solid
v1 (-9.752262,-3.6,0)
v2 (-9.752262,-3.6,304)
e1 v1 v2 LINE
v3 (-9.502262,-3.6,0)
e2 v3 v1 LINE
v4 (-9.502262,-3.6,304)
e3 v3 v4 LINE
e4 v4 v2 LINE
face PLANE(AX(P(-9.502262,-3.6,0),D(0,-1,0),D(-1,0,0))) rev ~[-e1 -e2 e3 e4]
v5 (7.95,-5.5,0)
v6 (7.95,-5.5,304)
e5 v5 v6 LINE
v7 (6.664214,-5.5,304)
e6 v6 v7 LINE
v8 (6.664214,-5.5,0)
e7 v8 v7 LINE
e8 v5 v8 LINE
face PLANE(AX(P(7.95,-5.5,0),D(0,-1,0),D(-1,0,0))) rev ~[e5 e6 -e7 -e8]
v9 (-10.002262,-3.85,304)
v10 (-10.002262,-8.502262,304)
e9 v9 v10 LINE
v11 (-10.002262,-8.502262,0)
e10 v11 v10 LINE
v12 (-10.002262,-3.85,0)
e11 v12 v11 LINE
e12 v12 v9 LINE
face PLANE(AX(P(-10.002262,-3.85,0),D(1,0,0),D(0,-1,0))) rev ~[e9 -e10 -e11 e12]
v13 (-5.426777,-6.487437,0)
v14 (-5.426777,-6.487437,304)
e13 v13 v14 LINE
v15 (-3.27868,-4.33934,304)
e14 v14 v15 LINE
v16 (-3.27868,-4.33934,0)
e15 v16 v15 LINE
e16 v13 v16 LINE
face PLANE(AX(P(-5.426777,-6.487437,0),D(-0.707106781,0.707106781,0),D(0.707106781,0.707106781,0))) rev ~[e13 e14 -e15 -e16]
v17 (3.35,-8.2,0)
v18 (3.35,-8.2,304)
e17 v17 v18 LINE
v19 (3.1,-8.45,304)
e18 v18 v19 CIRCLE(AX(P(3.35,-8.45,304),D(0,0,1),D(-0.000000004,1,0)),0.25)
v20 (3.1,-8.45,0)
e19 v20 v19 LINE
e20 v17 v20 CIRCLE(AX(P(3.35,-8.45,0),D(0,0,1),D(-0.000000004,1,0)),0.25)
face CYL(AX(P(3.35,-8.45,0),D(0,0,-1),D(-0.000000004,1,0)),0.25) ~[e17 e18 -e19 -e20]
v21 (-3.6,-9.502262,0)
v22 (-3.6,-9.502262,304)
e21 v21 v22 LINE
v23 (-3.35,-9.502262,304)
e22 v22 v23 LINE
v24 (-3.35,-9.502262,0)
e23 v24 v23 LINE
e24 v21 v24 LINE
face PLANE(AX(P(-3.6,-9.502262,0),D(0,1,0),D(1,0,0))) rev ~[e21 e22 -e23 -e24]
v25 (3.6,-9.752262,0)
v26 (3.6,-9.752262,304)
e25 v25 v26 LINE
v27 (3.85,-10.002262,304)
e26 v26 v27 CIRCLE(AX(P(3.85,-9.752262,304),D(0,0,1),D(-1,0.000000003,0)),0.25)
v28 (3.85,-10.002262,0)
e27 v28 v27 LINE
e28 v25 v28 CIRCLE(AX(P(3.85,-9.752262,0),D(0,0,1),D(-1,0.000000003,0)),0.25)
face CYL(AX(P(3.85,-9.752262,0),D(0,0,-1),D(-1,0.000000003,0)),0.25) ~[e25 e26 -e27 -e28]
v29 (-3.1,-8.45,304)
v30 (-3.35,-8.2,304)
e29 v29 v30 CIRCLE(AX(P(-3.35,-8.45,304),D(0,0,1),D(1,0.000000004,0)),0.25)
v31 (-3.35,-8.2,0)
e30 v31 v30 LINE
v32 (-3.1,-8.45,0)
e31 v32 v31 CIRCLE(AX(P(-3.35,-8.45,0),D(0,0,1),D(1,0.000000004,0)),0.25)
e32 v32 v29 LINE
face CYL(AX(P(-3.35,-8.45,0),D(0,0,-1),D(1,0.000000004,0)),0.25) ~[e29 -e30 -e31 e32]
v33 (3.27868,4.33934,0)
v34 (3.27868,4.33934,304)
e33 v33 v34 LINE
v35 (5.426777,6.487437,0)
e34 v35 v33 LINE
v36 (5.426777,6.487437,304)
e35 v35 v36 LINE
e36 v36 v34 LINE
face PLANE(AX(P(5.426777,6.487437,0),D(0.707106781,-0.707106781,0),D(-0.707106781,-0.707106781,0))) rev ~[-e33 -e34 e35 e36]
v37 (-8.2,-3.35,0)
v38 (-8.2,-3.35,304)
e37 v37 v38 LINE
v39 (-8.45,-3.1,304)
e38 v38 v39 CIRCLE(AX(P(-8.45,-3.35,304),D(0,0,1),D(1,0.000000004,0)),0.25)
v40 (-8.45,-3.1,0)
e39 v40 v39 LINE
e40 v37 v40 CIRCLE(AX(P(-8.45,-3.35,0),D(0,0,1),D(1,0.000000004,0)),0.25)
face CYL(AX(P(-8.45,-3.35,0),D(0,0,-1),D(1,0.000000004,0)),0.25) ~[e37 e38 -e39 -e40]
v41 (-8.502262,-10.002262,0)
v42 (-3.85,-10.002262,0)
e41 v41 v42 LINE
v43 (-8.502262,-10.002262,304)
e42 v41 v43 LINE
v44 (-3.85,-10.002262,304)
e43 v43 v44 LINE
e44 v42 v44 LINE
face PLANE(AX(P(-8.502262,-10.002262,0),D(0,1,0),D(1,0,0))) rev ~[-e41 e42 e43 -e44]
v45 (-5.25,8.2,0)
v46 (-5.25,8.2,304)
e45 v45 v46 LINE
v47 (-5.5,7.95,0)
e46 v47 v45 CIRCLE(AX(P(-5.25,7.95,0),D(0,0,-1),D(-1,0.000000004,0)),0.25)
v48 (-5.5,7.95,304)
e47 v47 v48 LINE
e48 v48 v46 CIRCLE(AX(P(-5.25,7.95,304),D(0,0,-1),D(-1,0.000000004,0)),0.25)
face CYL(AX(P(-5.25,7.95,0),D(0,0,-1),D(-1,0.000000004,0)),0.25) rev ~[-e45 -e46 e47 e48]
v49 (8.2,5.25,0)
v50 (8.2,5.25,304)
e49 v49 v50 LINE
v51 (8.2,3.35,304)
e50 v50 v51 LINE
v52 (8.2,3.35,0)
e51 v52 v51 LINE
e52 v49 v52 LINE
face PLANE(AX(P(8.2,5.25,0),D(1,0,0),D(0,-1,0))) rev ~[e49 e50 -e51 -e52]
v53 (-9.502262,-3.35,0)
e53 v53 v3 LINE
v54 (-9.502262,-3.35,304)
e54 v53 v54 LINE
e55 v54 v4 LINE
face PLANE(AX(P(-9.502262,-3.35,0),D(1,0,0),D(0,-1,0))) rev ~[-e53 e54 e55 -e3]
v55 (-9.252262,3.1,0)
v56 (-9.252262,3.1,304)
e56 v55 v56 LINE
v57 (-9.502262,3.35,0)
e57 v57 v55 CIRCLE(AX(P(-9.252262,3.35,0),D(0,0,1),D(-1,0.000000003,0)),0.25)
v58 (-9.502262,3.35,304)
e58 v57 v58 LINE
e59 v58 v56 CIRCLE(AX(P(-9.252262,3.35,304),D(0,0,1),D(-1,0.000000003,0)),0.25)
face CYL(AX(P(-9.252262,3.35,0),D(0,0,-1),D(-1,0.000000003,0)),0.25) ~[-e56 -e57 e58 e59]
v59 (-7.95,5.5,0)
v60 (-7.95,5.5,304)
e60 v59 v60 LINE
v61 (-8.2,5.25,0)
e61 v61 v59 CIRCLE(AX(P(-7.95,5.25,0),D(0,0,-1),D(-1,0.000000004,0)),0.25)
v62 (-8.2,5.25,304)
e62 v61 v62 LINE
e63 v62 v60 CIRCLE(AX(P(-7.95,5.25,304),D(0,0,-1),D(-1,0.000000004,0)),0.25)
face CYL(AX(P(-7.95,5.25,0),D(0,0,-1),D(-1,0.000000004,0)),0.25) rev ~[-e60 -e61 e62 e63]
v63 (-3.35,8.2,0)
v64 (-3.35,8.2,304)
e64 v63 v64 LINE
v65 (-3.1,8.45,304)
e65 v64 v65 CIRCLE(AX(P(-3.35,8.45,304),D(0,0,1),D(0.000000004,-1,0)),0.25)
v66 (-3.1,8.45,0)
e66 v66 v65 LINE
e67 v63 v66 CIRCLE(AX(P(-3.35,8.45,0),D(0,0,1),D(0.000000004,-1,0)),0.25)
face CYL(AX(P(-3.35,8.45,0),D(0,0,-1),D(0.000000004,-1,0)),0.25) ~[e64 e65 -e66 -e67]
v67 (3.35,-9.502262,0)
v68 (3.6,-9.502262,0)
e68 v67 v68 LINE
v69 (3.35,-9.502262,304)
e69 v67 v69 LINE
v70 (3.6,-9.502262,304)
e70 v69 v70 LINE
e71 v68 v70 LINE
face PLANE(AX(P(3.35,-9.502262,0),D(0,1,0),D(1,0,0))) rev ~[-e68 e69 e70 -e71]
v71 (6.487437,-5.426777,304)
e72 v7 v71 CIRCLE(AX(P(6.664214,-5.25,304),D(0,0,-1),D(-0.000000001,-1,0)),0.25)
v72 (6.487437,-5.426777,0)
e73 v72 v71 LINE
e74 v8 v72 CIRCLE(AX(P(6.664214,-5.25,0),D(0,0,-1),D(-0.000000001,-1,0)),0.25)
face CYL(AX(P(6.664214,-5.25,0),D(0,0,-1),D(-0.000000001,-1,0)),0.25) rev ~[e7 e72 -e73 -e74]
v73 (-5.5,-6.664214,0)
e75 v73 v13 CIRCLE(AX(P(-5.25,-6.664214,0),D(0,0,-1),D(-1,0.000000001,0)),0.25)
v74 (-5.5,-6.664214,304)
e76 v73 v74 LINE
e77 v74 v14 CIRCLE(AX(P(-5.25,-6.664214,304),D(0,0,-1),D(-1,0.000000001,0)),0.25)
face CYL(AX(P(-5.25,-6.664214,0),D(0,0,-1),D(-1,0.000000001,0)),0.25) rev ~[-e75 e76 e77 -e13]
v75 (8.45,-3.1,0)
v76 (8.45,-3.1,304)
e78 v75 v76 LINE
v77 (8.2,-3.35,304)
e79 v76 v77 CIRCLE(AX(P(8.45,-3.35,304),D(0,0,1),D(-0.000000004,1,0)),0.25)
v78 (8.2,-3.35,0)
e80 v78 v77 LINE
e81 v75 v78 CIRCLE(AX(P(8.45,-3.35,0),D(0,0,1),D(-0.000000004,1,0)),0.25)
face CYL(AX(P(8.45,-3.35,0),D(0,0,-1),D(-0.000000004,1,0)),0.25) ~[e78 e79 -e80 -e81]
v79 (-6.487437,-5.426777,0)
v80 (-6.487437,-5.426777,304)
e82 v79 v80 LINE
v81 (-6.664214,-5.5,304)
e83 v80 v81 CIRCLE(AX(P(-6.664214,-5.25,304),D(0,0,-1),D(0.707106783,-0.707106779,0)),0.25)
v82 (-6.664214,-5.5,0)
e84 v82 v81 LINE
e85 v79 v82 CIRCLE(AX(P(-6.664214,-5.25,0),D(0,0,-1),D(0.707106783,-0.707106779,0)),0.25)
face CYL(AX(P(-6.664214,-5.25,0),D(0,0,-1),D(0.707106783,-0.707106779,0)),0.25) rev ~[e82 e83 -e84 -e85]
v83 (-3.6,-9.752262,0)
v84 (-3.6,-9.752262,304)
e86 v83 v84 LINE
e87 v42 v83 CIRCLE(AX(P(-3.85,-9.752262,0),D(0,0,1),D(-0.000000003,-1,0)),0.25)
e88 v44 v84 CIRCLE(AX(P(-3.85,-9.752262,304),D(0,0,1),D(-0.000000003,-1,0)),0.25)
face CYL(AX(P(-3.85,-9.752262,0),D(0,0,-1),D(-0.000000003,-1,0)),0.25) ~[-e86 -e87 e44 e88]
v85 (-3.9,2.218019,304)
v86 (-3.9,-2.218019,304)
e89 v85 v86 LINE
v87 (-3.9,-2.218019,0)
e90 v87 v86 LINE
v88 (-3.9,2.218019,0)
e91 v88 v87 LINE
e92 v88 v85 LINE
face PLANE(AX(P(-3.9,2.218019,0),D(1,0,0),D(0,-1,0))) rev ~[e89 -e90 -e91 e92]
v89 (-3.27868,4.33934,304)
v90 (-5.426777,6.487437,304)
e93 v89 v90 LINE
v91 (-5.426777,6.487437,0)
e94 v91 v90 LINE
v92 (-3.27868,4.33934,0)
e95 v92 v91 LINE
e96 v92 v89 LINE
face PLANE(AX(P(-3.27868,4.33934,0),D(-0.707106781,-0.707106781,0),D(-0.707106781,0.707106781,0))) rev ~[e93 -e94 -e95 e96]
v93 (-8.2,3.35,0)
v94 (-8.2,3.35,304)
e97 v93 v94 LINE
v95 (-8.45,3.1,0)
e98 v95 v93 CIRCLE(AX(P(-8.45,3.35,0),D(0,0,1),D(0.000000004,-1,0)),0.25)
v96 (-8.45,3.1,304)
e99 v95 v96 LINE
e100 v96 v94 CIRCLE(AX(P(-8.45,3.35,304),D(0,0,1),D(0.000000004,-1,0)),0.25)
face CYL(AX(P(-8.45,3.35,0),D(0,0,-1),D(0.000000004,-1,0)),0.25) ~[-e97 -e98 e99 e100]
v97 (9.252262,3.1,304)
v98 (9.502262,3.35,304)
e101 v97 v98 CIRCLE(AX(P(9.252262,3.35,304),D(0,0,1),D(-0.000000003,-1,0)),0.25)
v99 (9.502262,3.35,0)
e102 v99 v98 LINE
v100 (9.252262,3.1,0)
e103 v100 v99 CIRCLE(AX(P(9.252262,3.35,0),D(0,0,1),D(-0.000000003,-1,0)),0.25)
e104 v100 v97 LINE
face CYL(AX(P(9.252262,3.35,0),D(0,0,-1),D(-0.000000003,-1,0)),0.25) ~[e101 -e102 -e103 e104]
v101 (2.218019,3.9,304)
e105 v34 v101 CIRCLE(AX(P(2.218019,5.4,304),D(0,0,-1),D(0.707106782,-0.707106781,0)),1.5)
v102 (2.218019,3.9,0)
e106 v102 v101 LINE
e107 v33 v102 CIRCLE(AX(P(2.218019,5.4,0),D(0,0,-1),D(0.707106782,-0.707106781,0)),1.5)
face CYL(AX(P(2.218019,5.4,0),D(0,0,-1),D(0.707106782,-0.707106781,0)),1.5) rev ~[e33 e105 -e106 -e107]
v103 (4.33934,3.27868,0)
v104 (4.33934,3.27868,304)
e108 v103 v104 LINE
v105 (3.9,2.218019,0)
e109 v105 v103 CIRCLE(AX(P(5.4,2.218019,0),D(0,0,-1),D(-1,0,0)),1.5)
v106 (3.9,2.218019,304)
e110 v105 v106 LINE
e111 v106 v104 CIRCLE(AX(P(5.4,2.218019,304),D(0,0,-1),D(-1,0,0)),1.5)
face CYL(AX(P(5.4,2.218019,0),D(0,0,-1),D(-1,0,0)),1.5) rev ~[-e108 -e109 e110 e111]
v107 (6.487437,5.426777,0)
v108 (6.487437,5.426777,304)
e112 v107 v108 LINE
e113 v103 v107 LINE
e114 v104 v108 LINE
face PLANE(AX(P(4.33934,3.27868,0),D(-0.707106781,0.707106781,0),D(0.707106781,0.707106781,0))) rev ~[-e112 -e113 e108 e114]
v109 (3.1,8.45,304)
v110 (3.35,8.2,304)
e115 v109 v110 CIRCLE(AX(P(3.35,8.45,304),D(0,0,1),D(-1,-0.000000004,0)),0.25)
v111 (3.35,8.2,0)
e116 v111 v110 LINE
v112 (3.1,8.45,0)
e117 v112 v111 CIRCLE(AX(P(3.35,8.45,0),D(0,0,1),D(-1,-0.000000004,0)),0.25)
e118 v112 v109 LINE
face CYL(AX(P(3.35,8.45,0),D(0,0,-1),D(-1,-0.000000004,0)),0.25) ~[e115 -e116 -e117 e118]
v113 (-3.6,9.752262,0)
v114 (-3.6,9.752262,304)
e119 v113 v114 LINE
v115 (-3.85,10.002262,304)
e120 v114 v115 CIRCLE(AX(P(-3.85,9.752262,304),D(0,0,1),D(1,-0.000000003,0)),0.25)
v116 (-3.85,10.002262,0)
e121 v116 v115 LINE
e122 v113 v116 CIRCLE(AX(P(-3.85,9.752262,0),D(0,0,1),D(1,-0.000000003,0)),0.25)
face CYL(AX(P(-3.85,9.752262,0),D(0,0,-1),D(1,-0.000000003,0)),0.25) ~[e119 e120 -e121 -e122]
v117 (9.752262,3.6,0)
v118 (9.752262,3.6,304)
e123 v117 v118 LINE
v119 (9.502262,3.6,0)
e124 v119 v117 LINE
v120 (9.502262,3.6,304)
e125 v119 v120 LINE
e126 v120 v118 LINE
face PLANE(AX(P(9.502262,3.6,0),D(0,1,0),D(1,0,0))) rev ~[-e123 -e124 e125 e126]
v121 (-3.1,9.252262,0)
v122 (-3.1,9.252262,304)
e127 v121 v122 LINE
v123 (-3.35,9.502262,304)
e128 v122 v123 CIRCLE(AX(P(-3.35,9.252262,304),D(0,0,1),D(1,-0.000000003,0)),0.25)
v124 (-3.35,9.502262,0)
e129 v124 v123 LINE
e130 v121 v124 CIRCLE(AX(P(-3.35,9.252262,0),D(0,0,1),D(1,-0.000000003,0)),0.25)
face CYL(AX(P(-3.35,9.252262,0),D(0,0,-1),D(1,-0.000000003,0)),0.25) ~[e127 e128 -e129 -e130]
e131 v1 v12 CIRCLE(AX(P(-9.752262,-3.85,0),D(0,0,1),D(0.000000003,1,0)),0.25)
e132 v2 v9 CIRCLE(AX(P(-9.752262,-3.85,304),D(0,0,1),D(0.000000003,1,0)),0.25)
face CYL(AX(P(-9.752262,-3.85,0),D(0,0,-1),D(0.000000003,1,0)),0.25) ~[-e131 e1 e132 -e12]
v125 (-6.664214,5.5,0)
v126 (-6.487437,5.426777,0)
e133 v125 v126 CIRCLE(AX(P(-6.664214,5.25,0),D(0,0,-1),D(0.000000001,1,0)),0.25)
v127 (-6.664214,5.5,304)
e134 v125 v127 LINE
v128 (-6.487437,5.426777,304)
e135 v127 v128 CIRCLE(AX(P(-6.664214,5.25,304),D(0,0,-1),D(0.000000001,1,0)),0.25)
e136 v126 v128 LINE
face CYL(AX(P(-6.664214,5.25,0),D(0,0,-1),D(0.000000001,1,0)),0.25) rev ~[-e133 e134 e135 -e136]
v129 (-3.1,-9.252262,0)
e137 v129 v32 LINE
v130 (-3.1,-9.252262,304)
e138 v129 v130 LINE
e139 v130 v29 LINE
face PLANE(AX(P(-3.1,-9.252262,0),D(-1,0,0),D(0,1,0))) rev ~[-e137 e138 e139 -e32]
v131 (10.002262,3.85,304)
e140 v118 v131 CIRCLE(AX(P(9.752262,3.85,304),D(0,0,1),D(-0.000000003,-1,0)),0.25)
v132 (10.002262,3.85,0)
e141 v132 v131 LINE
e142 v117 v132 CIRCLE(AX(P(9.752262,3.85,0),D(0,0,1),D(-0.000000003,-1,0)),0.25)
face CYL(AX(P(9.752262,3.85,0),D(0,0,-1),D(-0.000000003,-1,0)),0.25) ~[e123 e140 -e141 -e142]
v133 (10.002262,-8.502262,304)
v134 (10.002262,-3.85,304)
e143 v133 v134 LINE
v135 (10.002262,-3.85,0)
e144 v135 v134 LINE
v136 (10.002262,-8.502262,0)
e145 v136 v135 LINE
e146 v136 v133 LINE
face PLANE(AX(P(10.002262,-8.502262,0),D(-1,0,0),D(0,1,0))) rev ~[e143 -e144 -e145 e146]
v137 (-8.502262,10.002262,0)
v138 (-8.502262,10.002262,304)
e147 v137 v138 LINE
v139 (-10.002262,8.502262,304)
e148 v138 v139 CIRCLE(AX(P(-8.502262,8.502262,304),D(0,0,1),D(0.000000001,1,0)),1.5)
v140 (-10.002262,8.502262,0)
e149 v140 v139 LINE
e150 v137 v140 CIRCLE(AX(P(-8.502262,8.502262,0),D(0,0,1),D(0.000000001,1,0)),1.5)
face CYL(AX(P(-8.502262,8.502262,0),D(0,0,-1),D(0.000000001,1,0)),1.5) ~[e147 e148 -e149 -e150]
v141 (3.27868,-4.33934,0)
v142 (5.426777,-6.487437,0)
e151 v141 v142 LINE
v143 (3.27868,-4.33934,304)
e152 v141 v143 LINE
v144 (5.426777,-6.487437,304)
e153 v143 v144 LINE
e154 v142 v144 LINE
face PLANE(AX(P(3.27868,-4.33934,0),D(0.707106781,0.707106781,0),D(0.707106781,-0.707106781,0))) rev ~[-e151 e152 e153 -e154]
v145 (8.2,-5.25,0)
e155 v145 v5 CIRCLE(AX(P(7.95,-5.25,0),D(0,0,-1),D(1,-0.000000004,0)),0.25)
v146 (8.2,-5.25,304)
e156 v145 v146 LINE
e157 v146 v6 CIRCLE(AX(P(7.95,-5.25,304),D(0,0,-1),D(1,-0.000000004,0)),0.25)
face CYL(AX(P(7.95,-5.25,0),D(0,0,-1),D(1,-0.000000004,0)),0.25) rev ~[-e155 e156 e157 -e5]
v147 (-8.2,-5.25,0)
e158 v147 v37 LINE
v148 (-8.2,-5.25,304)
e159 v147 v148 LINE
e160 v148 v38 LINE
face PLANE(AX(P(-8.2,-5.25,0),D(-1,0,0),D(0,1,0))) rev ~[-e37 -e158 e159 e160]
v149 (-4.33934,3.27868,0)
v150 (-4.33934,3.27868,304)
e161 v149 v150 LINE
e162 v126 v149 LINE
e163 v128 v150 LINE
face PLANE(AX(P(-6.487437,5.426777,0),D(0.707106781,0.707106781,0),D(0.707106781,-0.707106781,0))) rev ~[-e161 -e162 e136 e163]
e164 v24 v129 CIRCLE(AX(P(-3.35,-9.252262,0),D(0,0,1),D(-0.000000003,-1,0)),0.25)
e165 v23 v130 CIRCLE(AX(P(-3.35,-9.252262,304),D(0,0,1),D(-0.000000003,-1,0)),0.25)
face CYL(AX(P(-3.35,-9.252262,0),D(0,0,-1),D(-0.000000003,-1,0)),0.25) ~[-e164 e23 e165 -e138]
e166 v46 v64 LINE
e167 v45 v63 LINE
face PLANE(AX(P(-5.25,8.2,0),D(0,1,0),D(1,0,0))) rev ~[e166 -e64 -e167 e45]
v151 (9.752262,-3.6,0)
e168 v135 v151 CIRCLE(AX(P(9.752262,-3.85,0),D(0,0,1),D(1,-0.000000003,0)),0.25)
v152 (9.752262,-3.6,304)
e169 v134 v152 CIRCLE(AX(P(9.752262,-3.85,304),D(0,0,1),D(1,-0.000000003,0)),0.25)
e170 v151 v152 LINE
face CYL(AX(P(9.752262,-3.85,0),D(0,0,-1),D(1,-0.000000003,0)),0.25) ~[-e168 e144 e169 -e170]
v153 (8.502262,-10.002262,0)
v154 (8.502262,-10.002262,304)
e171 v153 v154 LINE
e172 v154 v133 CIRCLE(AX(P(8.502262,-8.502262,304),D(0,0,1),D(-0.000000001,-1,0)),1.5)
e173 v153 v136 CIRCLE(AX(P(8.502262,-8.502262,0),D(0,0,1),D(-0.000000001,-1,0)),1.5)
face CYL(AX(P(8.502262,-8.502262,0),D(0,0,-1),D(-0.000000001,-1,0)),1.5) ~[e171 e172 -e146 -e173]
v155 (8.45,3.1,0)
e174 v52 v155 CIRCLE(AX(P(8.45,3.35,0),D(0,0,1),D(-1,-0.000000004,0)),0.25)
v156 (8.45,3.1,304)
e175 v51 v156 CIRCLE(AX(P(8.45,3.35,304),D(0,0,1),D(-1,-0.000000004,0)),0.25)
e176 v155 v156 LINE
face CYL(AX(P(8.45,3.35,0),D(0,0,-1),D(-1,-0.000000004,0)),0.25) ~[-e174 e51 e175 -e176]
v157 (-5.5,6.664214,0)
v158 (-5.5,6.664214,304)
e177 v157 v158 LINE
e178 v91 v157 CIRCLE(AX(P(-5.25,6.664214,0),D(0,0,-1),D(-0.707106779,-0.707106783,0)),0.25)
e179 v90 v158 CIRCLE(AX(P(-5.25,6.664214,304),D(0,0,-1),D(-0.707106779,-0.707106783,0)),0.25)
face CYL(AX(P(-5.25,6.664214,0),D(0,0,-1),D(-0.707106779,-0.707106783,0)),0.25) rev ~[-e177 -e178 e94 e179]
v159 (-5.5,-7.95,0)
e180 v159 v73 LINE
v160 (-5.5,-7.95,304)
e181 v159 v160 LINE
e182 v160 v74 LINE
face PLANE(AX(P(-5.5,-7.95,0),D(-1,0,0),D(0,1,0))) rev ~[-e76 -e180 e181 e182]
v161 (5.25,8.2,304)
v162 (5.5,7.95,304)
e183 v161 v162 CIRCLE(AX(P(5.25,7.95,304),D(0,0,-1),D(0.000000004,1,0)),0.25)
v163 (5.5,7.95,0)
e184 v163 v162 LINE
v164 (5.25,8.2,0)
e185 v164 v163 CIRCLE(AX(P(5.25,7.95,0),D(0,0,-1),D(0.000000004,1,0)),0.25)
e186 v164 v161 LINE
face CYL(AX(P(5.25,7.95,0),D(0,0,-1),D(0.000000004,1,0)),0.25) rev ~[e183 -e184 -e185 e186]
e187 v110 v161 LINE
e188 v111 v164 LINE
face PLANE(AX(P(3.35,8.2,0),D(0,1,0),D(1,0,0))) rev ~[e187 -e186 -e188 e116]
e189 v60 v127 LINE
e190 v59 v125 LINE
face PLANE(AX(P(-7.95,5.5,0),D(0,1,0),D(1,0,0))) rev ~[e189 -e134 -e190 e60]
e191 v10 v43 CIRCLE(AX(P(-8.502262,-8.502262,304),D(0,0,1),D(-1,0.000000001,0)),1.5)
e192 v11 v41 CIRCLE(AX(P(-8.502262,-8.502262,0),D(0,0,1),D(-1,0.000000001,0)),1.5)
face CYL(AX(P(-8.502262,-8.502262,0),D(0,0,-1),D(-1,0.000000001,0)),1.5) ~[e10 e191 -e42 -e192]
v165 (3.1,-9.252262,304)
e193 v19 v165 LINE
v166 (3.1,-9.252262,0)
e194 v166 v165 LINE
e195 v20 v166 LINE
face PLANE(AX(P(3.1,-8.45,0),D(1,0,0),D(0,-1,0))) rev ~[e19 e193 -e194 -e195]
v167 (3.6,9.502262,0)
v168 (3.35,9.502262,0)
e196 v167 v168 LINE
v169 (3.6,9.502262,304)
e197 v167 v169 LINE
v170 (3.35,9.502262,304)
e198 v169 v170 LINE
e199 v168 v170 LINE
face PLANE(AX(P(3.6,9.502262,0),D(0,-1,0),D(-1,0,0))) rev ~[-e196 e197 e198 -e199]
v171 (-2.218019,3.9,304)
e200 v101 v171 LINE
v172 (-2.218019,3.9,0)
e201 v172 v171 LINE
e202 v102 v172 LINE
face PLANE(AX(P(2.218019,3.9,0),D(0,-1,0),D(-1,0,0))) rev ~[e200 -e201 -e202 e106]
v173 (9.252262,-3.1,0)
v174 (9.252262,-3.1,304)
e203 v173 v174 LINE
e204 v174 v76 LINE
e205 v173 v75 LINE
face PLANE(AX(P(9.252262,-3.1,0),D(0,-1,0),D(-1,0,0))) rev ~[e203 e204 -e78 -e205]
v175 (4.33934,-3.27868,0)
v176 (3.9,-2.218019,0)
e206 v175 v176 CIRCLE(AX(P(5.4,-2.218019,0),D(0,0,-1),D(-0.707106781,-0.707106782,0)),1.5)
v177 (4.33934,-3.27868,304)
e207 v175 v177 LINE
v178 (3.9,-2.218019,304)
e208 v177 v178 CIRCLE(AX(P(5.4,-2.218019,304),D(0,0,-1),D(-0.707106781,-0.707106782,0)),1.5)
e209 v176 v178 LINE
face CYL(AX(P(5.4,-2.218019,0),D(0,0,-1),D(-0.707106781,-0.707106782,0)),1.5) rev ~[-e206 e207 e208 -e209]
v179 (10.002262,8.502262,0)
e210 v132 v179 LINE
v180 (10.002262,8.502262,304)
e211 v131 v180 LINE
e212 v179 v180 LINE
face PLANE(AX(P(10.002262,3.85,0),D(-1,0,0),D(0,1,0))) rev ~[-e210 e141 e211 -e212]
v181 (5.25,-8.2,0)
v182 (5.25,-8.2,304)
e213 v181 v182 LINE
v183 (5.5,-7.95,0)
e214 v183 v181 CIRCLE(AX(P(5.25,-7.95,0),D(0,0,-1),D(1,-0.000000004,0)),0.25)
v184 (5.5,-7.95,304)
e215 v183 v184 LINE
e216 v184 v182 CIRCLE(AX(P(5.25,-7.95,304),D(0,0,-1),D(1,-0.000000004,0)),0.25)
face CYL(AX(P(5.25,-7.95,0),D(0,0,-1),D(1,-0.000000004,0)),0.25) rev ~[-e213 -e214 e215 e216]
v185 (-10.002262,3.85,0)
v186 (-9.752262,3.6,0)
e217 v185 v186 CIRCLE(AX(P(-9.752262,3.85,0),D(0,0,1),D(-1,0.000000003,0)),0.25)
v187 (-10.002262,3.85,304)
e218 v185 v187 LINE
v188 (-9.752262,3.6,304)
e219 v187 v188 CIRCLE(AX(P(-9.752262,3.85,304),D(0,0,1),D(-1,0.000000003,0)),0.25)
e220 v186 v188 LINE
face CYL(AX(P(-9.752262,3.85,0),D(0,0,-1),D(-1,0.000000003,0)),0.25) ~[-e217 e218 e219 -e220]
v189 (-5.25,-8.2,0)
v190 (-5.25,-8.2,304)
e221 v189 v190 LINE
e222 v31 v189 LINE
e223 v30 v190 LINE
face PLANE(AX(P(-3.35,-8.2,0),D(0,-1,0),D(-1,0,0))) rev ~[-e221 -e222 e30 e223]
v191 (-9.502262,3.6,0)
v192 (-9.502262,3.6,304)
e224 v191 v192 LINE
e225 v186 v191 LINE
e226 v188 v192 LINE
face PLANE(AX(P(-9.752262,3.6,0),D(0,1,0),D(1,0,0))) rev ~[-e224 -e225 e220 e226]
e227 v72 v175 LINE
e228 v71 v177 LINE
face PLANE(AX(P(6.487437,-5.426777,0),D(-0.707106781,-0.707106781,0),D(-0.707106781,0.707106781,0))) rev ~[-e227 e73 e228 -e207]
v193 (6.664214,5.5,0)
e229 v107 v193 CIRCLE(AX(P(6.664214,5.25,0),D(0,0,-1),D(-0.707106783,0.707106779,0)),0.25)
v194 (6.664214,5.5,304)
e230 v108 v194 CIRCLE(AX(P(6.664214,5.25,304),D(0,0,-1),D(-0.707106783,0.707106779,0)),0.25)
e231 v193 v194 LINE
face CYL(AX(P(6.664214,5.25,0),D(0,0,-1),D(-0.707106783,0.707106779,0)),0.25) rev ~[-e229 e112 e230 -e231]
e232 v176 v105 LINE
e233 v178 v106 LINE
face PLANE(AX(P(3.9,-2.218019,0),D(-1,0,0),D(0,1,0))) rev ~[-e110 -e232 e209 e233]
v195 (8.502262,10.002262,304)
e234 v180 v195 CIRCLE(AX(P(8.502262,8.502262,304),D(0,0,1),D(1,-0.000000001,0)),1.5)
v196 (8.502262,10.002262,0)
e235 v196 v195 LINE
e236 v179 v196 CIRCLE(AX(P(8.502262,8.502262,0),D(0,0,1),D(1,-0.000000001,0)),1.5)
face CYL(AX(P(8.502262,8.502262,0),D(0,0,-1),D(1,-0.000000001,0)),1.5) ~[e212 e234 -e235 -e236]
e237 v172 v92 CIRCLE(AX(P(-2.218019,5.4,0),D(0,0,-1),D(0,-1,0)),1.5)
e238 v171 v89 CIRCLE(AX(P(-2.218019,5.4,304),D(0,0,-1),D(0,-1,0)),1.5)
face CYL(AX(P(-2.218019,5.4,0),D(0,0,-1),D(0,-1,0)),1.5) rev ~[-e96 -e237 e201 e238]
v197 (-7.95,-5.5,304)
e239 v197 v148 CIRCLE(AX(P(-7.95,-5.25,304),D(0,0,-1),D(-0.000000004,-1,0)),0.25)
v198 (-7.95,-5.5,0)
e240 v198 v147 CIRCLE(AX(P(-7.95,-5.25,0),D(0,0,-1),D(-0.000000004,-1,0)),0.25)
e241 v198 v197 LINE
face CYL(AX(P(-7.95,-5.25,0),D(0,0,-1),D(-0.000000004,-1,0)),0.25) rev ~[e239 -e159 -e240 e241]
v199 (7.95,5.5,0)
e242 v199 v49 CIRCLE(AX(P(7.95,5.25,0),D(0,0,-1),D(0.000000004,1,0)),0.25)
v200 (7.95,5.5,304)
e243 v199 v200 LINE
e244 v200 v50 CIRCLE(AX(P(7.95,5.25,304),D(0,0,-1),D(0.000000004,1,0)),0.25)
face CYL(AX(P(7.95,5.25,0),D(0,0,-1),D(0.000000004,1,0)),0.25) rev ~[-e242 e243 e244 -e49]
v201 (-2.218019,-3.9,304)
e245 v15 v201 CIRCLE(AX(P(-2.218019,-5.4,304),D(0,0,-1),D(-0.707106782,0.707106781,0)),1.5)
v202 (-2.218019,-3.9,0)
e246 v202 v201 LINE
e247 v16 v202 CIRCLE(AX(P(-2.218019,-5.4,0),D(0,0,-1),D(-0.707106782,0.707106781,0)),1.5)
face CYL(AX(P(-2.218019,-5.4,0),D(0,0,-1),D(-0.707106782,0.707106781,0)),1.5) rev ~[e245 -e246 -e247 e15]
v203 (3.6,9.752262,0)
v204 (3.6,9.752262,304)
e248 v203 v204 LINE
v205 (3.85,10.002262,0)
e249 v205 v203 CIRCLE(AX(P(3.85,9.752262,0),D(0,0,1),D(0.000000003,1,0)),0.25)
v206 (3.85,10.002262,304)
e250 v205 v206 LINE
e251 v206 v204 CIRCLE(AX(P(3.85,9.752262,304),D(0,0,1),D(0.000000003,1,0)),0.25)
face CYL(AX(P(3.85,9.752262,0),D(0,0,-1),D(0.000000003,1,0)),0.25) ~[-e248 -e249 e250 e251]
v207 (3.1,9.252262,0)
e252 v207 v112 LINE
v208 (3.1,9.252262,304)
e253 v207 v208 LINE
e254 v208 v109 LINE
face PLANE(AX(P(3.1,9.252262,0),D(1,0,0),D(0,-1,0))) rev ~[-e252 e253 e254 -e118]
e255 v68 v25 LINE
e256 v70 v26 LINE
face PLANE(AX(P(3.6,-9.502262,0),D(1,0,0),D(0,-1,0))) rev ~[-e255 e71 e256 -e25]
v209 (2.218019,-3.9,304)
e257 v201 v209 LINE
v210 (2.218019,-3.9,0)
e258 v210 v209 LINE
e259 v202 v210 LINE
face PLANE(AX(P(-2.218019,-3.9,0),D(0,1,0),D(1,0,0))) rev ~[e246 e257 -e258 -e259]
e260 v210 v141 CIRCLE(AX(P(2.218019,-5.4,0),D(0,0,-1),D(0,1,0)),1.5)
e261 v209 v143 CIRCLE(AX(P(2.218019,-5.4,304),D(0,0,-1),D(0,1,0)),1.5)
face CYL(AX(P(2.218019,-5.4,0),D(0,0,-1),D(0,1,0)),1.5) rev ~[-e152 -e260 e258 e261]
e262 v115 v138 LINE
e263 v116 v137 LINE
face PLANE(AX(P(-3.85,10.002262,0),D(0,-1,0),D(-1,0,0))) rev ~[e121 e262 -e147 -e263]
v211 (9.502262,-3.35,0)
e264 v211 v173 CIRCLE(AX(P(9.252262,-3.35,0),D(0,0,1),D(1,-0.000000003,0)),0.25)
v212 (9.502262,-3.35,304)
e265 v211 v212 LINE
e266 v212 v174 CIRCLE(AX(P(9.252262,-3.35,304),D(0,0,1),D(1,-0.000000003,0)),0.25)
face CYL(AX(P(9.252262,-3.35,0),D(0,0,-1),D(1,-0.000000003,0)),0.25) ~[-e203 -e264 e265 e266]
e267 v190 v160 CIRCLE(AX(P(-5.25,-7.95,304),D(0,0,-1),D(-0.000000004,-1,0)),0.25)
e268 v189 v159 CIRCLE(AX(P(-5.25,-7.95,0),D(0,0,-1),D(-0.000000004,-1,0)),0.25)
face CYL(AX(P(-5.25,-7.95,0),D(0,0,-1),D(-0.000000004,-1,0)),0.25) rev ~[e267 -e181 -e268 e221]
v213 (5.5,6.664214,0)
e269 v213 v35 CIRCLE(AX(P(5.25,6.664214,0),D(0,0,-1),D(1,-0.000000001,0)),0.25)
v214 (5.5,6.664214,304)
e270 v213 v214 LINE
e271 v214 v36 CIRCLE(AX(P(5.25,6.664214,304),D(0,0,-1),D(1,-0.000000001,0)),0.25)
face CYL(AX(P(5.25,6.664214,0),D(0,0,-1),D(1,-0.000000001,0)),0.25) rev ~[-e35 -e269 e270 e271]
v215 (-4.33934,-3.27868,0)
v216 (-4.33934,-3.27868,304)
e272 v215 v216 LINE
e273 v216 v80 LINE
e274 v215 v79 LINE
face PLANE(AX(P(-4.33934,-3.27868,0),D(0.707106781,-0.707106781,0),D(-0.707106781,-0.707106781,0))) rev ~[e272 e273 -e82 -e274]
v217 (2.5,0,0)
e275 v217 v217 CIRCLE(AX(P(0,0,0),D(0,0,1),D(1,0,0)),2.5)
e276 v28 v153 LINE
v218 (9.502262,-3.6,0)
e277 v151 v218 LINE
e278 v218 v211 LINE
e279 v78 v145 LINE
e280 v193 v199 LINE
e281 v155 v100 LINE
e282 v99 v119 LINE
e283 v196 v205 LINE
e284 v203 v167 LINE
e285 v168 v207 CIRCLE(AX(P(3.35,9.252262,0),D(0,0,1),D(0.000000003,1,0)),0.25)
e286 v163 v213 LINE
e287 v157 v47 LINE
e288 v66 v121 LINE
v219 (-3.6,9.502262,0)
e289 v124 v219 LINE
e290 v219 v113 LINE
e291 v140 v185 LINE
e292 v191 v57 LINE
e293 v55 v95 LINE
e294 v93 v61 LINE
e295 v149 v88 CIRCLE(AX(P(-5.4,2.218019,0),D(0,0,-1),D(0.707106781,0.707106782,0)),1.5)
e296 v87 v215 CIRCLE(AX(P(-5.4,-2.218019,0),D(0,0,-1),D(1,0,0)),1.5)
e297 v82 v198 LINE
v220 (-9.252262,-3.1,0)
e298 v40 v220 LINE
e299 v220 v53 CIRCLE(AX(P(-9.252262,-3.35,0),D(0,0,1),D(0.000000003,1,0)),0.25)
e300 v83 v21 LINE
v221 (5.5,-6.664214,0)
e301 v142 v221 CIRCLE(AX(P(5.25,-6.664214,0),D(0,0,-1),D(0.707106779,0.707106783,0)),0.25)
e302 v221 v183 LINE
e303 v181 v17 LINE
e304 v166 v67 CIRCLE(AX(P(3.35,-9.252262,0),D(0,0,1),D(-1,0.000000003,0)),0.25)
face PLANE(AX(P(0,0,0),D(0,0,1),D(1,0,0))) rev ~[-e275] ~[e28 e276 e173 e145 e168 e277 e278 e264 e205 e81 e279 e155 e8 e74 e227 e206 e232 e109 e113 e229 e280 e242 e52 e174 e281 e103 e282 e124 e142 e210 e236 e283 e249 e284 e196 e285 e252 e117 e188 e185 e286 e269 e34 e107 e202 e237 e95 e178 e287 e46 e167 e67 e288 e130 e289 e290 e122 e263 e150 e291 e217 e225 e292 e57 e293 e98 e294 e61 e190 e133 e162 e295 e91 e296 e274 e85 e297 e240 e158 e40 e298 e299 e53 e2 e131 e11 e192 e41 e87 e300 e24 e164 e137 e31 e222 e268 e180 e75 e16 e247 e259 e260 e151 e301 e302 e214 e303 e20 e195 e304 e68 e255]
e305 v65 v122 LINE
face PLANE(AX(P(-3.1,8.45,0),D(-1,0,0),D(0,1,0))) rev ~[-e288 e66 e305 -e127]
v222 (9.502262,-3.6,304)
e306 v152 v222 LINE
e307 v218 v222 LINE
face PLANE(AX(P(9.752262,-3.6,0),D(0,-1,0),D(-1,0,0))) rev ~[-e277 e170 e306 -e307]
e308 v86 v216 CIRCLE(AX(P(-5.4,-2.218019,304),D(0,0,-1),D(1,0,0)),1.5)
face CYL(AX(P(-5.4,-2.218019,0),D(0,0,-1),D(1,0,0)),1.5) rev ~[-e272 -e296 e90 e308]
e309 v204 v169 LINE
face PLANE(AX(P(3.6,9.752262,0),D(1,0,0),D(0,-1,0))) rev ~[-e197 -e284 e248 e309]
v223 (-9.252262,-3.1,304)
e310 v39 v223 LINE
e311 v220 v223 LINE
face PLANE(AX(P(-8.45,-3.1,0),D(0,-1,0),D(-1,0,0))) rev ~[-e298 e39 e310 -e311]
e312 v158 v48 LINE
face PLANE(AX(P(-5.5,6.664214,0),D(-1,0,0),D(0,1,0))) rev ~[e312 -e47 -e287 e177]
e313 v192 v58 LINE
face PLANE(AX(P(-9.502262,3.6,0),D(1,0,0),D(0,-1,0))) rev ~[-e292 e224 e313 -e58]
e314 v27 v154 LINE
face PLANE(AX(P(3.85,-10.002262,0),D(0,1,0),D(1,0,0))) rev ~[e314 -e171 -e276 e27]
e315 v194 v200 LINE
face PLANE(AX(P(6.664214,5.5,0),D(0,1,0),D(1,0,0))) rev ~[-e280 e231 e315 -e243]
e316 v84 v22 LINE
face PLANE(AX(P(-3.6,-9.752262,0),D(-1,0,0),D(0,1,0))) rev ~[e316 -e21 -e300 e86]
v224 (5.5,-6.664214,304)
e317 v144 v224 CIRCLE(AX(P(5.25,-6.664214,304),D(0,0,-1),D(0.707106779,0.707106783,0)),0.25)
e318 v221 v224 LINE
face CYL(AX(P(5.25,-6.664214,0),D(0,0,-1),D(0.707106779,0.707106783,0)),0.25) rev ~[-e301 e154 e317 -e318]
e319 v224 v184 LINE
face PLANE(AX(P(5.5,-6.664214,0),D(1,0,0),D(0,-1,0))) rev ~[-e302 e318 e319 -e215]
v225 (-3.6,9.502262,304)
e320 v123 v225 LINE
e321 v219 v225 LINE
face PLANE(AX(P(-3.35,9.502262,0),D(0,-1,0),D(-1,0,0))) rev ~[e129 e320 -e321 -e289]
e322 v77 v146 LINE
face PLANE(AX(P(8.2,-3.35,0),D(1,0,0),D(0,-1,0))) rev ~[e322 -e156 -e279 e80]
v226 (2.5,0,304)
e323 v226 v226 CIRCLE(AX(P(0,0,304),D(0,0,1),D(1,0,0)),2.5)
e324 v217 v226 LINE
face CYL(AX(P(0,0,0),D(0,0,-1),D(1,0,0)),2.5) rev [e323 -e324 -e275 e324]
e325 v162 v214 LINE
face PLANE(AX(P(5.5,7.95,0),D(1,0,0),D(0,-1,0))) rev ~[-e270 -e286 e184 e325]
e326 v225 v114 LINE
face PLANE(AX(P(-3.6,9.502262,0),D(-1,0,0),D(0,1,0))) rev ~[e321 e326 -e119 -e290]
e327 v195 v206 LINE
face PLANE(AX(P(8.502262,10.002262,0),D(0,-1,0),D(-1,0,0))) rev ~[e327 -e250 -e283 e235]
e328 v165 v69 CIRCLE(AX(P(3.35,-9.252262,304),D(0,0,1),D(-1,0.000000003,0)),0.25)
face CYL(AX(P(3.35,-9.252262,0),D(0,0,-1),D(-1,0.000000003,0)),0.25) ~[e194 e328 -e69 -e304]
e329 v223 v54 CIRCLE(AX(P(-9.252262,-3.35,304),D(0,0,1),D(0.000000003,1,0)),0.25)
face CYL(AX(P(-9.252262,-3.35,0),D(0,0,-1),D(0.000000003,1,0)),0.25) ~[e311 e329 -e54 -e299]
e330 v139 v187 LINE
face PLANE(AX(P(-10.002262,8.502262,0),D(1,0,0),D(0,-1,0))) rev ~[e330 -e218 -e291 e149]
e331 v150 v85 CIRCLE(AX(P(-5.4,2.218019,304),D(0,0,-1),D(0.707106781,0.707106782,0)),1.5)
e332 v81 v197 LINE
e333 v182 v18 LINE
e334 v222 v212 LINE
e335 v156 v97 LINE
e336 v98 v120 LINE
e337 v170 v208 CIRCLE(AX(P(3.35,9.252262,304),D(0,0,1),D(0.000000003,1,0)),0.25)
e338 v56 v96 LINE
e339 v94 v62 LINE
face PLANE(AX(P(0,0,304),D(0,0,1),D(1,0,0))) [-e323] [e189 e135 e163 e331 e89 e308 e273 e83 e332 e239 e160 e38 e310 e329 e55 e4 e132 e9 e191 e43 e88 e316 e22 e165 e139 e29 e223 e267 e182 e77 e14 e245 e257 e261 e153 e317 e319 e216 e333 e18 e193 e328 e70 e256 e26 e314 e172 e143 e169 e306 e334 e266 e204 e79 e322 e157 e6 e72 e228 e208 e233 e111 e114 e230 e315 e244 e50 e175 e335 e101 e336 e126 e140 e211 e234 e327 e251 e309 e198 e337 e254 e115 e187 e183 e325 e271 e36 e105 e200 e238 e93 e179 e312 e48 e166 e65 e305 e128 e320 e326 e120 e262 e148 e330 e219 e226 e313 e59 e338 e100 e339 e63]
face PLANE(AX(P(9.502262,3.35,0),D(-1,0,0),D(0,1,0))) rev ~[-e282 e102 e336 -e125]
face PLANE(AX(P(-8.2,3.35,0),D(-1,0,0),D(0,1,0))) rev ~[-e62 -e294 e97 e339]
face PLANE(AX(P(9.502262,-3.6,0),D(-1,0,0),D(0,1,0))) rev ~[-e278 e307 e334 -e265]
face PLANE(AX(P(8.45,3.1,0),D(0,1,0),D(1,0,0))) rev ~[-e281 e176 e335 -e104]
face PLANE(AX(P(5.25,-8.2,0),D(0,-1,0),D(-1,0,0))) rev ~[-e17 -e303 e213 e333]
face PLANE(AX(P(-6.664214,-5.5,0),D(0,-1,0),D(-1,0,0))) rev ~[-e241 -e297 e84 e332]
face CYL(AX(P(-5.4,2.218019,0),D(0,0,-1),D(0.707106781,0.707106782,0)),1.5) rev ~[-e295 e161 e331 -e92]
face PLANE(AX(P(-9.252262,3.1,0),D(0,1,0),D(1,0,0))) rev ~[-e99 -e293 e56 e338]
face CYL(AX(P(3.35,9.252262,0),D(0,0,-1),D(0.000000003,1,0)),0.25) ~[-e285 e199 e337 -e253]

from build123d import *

# Parameters (mm, degrees)
SKETCH_1_R      = 2.5
EXTRUDE_1_DEPTH = 304


with BuildPart() as part:
    # 草图1 → 凸台-拉伸1 (new body)
    with BuildSketch(Plane.XY):
        with BuildLine():
            Line((-8.502261885, -10.002261885), (-3.85, -10.002261885))
            ThreePointArc((-3.85, -10.002261885), (-3.673223305, -9.929038581), (-3.6, -9.752261885))
            Line((-3.6, -9.752261885), (-3.6, -9.502261885))
            Line((-3.6, -9.502261885), (-3.35, -9.502261885))
            ThreePointArc((-3.35, -9.502261885), (-3.173223305, -9.429038581), (-3.1, -9.252261885))
            Line((-3.1, -9.252261885), (-3.1, -8.45))
            ThreePointArc((-3.1, -8.45), (-3.173223305, -8.273223305), (-3.35, -8.2))
            Line((-3.35, -8.2), (-5.25, -8.2))
            ThreePointArc((-5.25, -8.2), (-5.426776695, -8.126776695), (-5.5, -7.95))
            Line((-5.5, -7.95), (-5.5, -6.664213562))
            ThreePointArc((-5.5, -6.664213562), (-5.480969883, -6.568542704), (-5.426776695, -6.487436867))
            Line((-5.426776695, -6.487436867), (-3.278679656, -4.339339828))
            ThreePointArc((-3.278679656, -4.339339828), (-2.792044633, -4.014180701), (-2.218019485, -3.9))
            Line((-2.218019485, -3.9), (2.218019485, -3.9))
            ThreePointArc((2.218019485, -3.9), (2.792044633, -4.014180701), (3.278679656, -4.339339828))
            Line((3.278679656, -4.339339828), (5.426776695, -6.487436867))
            ThreePointArc((5.426776695, -6.487436867), (5.480969883, -6.568542704), (5.5, -6.664213562))
            Line((5.5, -6.664213562), (5.5, -7.95))
            ThreePointArc((5.5, -7.95), (5.426776695, -8.126776695), (5.25, -8.2))
            Line((5.25, -8.2), (3.35, -8.2))
            ThreePointArc((3.35, -8.2), (3.173223305, -8.273223305), (3.1, -8.45))
            Line((3.1, -8.45), (3.1, -9.252261885))
            ThreePointArc((3.1, -9.252261885), (3.173223305, -9.429038581), (3.35, -9.502261885))
            Line((3.35, -9.502261885), (3.6, -9.502261885))
            Line((3.6, -9.502261885), (3.6, -9.752261885))
            ThreePointArc((3.6, -9.752261885), (3.673223305, -9.929038581), (3.85, -10.002261885))
            Line((3.85, -10.002261885), (8.502261885, -10.002261885))
            ThreePointArc((8.502261885, -10.002261885), (9.562922057, -9.562922057), (10.002261885, -8.502261885))
            Line((10.002261885, -8.502261885), (10.002261885, -3.85))
            ThreePointArc((10.002261885, -3.85), (9.929038581, -3.673223305), (9.752261885, -3.6))
            Line((9.752261885, -3.6), (9.502261885, -3.6))
            Line((9.502261885, -3.6), (9.502261885, -3.35))
            ThreePointArc((9.502261885, -3.35), (9.429038581, -3.173223305), (9.252261885, -3.1))
            Line((9.252261885, -3.1), (8.45, -3.1))
            ThreePointArc((8.45, -3.1), (8.273223305, -3.173223305), (8.2, -3.35))
            Line((8.2, -3.35), (8.2, -5.25))
            ThreePointArc((8.2, -5.25), (8.126776695, -5.426776695), (7.95, -5.5))
            Line((7.95, -5.5), (6.664213562, -5.5))
            ThreePointArc((6.664213562, -5.5), (6.568542704, -5.480969883), (6.487436867, -5.426776695))
            Line((6.487436867, -5.426776695), (4.339339828, -3.278679656))
            ThreePointArc((4.339339828, -3.278679656), (4.014180701, -2.792044633), (3.9, -2.218019485))
            Line((3.9, -2.218019485), (3.9, 2.218019485))
            ThreePointArc((3.9, 2.218019485), (4.014180701, 2.792044633), (4.339339828, 3.278679656))
            Line((4.339339828, 3.278679656), (6.487436867, 5.426776695))
            ThreePointArc((6.487436867, 5.426776695), (6.568542704, 5.480969883), (6.664213562, 5.5))
            Line((6.664213562, 5.5), (7.95, 5.5))
            ThreePointArc((7.95, 5.5), (8.126776695, 5.426776695), (8.2, 5.25))
            Line((8.2, 5.25), (8.2, 3.35))
            ThreePointArc((8.2, 3.35), (8.273223305, 3.173223305), (8.45, 3.1))
            Line((8.45, 3.1), (9.252261885, 3.1))
            ThreePointArc((9.252261885, 3.1), (9.429038581, 3.173223305), (9.502261885, 3.35))
            Line((9.502261885, 3.35), (9.502261885, 3.6))
            Line((9.502261885, 3.6), (9.752261885, 3.6))
            ThreePointArc((9.752261885, 3.6), (9.929038581, 3.673223305), (10.002261885, 3.85))
            Line((10.002261885, 3.85), (10.002261885, 8.502261885))
            ThreePointArc((10.002261885, 8.502261885), (9.562922057, 9.562922057), (8.502261885, 10.002261885))
            Line((8.502261885, 10.002261885), (3.85, 10.002261885))
            ThreePointArc((3.85, 10.002261885), (3.673223305, 9.929038581), (3.6, 9.752261885))
            Line((3.6, 9.752261885), (3.6, 9.502261885))
            Line((3.6, 9.502261885), (3.35, 9.502261885))
            ThreePointArc((3.35, 9.502261885), (3.173223305, 9.429038581), (3.1, 9.252261885))
            Line((3.1, 9.252261885), (3.1, 8.45))
            ThreePointArc((3.1, 8.45), (3.173223305, 8.273223305), (3.35, 8.2))
            Line((3.35, 8.2), (5.25, 8.2))
            ThreePointArc((5.25, 8.2), (5.426776695, 8.126776695), (5.5, 7.95))
            Line((5.5, 7.95), (5.5, 6.664213562))
            ThreePointArc((5.5, 6.664213562), (5.480969883, 6.568542704), (5.426776695, 6.487436867))
            Line((5.426776695, 6.487436867), (3.278679656, 4.339339828))
            ThreePointArc((3.278679656, 4.339339828), (2.792044633, 4.014180701), (2.218019485, 3.9))
            Line((2.218019485, 3.9), (-2.218019485, 3.9))
            ThreePointArc((-2.218019485, 3.9), (-2.792044633, 4.014180701), (-3.278679656, 4.339339828))
            Line((-3.278679656, 4.339339828), (-5.426776695, 6.487436867))
            ThreePointArc((-5.426776695, 6.487436867), (-5.480969883, 6.568542704), (-5.5, 6.664213562))
            Line((-5.5, 6.664213562), (-5.5, 7.95))
            ThreePointArc((-5.5, 7.95), (-5.426776695, 8.126776695), (-5.25, 8.2))
            Line((-5.25, 8.2), (-3.35, 8.2))
            ThreePointArc((-3.35, 8.2), (-3.173223305, 8.273223305), (-3.1, 8.45))
            Line((-3.1, 8.45), (-3.1, 9.252261885))
            ThreePointArc((-3.1, 9.252261885), (-3.173223305, 9.429038581), (-3.35, 9.502261885))
            Line((-3.35, 9.502261885), (-3.6, 9.502261885))
            Line((-3.6, 9.502261885), (-3.6, 9.752261885))
            ThreePointArc((-3.6, 9.752261885), (-3.673223305, 9.929038581), (-3.85, 10.002261885))
            Line((-3.85, 10.002261885), (-8.502261885, 10.002261885))
            ThreePointArc((-8.502261885, 10.002261885), (-9.562922057, 9.562922057), (-10.002261885, 8.502261885))
            Line((-10.002261885, 8.502261885), (-10.002261885, 3.85))
            ThreePointArc((-10.002261885, 3.85), (-9.929038581, 3.673223305), (-9.752261885, 3.6))
            Line((-9.752261885, 3.6), (-9.502261885, 3.6))
            Line((-9.502261885, 3.6), (-9.502261885, 3.35))
            ThreePointArc((-9.502261885, 3.35), (-9.429038581, 3.173223305), (-9.252261885, 3.1))
            Line((-9.252261885, 3.1), (-8.45, 3.1))
            ThreePointArc((-8.45, 3.1), (-8.273223305, 3.173223305), (-8.2, 3.35))
            Line((-8.2, 3.35), (-8.2, 5.25))
            ThreePointArc((-8.2, 5.25), (-8.126776695, 5.426776695), (-7.95, 5.5))
            Line((-7.95, 5.5), (-6.664213562, 5.5))
            ThreePointArc((-6.664213562, 5.5), (-6.568542704, 5.480969883), (-6.487436867, 5.426776695))
            Line((-6.487436867, 5.426776695), (-4.339339828, 3.278679656))
            ThreePointArc((-4.339339828, 3.278679656), (-4.014180701, 2.792044633), (-3.9, 2.218019485))
            Line((-3.9, 2.218019485), (-3.9, -2.218019485))
            ThreePointArc((-3.9, -2.218019485), (-4.014180701, -2.792044633), (-4.339339828, -3.278679656))
            Line((-4.339339828, -3.278679656), (-6.487436867, -5.426776695))
            ThreePointArc((-6.487436867, -5.426776695), (-6.568542704, -5.480969883), (-6.664213562, -5.5))
            Line((-6.664213562, -5.5), (-7.95, -5.5))
            ThreePointArc((-7.95, -5.5), (-8.126776695, -5.426776695), (-8.2, -5.25))
            Line((-8.2, -5.25), (-8.2, -3.35))
            ThreePointArc((-8.2, -3.35), (-8.273223305, -3.173223305), (-8.45, -3.1))
            Line((-8.45, -3.1), (-9.252261885, -3.1))
            ThreePointArc((-9.252261885, -3.1), (-9.429038581, -3.173223305), (-9.502261885, -3.35))
            Line((-9.502261885, -3.35), (-9.502261885, -3.6))
            Line((-9.502261885, -3.6), (-9.752261885, -3.6))
            ThreePointArc((-9.752261885, -3.6), (-9.929038581, -3.673223305), (-10.002261885, -3.85))
            Line((-10.002261885, -3.85), (-10.002261885, -8.502261885))
            ThreePointArc((-10.002261885, -8.502261885), (-9.562922057, -9.562922057), (-8.502261885, -10.002261885))
        make_face()
        Circle(SKETCH_1_R, mode=Mode.SUBTRACT)
    extrude(amount=EXTRUDE_1_DEPTH)


solid = part.part
